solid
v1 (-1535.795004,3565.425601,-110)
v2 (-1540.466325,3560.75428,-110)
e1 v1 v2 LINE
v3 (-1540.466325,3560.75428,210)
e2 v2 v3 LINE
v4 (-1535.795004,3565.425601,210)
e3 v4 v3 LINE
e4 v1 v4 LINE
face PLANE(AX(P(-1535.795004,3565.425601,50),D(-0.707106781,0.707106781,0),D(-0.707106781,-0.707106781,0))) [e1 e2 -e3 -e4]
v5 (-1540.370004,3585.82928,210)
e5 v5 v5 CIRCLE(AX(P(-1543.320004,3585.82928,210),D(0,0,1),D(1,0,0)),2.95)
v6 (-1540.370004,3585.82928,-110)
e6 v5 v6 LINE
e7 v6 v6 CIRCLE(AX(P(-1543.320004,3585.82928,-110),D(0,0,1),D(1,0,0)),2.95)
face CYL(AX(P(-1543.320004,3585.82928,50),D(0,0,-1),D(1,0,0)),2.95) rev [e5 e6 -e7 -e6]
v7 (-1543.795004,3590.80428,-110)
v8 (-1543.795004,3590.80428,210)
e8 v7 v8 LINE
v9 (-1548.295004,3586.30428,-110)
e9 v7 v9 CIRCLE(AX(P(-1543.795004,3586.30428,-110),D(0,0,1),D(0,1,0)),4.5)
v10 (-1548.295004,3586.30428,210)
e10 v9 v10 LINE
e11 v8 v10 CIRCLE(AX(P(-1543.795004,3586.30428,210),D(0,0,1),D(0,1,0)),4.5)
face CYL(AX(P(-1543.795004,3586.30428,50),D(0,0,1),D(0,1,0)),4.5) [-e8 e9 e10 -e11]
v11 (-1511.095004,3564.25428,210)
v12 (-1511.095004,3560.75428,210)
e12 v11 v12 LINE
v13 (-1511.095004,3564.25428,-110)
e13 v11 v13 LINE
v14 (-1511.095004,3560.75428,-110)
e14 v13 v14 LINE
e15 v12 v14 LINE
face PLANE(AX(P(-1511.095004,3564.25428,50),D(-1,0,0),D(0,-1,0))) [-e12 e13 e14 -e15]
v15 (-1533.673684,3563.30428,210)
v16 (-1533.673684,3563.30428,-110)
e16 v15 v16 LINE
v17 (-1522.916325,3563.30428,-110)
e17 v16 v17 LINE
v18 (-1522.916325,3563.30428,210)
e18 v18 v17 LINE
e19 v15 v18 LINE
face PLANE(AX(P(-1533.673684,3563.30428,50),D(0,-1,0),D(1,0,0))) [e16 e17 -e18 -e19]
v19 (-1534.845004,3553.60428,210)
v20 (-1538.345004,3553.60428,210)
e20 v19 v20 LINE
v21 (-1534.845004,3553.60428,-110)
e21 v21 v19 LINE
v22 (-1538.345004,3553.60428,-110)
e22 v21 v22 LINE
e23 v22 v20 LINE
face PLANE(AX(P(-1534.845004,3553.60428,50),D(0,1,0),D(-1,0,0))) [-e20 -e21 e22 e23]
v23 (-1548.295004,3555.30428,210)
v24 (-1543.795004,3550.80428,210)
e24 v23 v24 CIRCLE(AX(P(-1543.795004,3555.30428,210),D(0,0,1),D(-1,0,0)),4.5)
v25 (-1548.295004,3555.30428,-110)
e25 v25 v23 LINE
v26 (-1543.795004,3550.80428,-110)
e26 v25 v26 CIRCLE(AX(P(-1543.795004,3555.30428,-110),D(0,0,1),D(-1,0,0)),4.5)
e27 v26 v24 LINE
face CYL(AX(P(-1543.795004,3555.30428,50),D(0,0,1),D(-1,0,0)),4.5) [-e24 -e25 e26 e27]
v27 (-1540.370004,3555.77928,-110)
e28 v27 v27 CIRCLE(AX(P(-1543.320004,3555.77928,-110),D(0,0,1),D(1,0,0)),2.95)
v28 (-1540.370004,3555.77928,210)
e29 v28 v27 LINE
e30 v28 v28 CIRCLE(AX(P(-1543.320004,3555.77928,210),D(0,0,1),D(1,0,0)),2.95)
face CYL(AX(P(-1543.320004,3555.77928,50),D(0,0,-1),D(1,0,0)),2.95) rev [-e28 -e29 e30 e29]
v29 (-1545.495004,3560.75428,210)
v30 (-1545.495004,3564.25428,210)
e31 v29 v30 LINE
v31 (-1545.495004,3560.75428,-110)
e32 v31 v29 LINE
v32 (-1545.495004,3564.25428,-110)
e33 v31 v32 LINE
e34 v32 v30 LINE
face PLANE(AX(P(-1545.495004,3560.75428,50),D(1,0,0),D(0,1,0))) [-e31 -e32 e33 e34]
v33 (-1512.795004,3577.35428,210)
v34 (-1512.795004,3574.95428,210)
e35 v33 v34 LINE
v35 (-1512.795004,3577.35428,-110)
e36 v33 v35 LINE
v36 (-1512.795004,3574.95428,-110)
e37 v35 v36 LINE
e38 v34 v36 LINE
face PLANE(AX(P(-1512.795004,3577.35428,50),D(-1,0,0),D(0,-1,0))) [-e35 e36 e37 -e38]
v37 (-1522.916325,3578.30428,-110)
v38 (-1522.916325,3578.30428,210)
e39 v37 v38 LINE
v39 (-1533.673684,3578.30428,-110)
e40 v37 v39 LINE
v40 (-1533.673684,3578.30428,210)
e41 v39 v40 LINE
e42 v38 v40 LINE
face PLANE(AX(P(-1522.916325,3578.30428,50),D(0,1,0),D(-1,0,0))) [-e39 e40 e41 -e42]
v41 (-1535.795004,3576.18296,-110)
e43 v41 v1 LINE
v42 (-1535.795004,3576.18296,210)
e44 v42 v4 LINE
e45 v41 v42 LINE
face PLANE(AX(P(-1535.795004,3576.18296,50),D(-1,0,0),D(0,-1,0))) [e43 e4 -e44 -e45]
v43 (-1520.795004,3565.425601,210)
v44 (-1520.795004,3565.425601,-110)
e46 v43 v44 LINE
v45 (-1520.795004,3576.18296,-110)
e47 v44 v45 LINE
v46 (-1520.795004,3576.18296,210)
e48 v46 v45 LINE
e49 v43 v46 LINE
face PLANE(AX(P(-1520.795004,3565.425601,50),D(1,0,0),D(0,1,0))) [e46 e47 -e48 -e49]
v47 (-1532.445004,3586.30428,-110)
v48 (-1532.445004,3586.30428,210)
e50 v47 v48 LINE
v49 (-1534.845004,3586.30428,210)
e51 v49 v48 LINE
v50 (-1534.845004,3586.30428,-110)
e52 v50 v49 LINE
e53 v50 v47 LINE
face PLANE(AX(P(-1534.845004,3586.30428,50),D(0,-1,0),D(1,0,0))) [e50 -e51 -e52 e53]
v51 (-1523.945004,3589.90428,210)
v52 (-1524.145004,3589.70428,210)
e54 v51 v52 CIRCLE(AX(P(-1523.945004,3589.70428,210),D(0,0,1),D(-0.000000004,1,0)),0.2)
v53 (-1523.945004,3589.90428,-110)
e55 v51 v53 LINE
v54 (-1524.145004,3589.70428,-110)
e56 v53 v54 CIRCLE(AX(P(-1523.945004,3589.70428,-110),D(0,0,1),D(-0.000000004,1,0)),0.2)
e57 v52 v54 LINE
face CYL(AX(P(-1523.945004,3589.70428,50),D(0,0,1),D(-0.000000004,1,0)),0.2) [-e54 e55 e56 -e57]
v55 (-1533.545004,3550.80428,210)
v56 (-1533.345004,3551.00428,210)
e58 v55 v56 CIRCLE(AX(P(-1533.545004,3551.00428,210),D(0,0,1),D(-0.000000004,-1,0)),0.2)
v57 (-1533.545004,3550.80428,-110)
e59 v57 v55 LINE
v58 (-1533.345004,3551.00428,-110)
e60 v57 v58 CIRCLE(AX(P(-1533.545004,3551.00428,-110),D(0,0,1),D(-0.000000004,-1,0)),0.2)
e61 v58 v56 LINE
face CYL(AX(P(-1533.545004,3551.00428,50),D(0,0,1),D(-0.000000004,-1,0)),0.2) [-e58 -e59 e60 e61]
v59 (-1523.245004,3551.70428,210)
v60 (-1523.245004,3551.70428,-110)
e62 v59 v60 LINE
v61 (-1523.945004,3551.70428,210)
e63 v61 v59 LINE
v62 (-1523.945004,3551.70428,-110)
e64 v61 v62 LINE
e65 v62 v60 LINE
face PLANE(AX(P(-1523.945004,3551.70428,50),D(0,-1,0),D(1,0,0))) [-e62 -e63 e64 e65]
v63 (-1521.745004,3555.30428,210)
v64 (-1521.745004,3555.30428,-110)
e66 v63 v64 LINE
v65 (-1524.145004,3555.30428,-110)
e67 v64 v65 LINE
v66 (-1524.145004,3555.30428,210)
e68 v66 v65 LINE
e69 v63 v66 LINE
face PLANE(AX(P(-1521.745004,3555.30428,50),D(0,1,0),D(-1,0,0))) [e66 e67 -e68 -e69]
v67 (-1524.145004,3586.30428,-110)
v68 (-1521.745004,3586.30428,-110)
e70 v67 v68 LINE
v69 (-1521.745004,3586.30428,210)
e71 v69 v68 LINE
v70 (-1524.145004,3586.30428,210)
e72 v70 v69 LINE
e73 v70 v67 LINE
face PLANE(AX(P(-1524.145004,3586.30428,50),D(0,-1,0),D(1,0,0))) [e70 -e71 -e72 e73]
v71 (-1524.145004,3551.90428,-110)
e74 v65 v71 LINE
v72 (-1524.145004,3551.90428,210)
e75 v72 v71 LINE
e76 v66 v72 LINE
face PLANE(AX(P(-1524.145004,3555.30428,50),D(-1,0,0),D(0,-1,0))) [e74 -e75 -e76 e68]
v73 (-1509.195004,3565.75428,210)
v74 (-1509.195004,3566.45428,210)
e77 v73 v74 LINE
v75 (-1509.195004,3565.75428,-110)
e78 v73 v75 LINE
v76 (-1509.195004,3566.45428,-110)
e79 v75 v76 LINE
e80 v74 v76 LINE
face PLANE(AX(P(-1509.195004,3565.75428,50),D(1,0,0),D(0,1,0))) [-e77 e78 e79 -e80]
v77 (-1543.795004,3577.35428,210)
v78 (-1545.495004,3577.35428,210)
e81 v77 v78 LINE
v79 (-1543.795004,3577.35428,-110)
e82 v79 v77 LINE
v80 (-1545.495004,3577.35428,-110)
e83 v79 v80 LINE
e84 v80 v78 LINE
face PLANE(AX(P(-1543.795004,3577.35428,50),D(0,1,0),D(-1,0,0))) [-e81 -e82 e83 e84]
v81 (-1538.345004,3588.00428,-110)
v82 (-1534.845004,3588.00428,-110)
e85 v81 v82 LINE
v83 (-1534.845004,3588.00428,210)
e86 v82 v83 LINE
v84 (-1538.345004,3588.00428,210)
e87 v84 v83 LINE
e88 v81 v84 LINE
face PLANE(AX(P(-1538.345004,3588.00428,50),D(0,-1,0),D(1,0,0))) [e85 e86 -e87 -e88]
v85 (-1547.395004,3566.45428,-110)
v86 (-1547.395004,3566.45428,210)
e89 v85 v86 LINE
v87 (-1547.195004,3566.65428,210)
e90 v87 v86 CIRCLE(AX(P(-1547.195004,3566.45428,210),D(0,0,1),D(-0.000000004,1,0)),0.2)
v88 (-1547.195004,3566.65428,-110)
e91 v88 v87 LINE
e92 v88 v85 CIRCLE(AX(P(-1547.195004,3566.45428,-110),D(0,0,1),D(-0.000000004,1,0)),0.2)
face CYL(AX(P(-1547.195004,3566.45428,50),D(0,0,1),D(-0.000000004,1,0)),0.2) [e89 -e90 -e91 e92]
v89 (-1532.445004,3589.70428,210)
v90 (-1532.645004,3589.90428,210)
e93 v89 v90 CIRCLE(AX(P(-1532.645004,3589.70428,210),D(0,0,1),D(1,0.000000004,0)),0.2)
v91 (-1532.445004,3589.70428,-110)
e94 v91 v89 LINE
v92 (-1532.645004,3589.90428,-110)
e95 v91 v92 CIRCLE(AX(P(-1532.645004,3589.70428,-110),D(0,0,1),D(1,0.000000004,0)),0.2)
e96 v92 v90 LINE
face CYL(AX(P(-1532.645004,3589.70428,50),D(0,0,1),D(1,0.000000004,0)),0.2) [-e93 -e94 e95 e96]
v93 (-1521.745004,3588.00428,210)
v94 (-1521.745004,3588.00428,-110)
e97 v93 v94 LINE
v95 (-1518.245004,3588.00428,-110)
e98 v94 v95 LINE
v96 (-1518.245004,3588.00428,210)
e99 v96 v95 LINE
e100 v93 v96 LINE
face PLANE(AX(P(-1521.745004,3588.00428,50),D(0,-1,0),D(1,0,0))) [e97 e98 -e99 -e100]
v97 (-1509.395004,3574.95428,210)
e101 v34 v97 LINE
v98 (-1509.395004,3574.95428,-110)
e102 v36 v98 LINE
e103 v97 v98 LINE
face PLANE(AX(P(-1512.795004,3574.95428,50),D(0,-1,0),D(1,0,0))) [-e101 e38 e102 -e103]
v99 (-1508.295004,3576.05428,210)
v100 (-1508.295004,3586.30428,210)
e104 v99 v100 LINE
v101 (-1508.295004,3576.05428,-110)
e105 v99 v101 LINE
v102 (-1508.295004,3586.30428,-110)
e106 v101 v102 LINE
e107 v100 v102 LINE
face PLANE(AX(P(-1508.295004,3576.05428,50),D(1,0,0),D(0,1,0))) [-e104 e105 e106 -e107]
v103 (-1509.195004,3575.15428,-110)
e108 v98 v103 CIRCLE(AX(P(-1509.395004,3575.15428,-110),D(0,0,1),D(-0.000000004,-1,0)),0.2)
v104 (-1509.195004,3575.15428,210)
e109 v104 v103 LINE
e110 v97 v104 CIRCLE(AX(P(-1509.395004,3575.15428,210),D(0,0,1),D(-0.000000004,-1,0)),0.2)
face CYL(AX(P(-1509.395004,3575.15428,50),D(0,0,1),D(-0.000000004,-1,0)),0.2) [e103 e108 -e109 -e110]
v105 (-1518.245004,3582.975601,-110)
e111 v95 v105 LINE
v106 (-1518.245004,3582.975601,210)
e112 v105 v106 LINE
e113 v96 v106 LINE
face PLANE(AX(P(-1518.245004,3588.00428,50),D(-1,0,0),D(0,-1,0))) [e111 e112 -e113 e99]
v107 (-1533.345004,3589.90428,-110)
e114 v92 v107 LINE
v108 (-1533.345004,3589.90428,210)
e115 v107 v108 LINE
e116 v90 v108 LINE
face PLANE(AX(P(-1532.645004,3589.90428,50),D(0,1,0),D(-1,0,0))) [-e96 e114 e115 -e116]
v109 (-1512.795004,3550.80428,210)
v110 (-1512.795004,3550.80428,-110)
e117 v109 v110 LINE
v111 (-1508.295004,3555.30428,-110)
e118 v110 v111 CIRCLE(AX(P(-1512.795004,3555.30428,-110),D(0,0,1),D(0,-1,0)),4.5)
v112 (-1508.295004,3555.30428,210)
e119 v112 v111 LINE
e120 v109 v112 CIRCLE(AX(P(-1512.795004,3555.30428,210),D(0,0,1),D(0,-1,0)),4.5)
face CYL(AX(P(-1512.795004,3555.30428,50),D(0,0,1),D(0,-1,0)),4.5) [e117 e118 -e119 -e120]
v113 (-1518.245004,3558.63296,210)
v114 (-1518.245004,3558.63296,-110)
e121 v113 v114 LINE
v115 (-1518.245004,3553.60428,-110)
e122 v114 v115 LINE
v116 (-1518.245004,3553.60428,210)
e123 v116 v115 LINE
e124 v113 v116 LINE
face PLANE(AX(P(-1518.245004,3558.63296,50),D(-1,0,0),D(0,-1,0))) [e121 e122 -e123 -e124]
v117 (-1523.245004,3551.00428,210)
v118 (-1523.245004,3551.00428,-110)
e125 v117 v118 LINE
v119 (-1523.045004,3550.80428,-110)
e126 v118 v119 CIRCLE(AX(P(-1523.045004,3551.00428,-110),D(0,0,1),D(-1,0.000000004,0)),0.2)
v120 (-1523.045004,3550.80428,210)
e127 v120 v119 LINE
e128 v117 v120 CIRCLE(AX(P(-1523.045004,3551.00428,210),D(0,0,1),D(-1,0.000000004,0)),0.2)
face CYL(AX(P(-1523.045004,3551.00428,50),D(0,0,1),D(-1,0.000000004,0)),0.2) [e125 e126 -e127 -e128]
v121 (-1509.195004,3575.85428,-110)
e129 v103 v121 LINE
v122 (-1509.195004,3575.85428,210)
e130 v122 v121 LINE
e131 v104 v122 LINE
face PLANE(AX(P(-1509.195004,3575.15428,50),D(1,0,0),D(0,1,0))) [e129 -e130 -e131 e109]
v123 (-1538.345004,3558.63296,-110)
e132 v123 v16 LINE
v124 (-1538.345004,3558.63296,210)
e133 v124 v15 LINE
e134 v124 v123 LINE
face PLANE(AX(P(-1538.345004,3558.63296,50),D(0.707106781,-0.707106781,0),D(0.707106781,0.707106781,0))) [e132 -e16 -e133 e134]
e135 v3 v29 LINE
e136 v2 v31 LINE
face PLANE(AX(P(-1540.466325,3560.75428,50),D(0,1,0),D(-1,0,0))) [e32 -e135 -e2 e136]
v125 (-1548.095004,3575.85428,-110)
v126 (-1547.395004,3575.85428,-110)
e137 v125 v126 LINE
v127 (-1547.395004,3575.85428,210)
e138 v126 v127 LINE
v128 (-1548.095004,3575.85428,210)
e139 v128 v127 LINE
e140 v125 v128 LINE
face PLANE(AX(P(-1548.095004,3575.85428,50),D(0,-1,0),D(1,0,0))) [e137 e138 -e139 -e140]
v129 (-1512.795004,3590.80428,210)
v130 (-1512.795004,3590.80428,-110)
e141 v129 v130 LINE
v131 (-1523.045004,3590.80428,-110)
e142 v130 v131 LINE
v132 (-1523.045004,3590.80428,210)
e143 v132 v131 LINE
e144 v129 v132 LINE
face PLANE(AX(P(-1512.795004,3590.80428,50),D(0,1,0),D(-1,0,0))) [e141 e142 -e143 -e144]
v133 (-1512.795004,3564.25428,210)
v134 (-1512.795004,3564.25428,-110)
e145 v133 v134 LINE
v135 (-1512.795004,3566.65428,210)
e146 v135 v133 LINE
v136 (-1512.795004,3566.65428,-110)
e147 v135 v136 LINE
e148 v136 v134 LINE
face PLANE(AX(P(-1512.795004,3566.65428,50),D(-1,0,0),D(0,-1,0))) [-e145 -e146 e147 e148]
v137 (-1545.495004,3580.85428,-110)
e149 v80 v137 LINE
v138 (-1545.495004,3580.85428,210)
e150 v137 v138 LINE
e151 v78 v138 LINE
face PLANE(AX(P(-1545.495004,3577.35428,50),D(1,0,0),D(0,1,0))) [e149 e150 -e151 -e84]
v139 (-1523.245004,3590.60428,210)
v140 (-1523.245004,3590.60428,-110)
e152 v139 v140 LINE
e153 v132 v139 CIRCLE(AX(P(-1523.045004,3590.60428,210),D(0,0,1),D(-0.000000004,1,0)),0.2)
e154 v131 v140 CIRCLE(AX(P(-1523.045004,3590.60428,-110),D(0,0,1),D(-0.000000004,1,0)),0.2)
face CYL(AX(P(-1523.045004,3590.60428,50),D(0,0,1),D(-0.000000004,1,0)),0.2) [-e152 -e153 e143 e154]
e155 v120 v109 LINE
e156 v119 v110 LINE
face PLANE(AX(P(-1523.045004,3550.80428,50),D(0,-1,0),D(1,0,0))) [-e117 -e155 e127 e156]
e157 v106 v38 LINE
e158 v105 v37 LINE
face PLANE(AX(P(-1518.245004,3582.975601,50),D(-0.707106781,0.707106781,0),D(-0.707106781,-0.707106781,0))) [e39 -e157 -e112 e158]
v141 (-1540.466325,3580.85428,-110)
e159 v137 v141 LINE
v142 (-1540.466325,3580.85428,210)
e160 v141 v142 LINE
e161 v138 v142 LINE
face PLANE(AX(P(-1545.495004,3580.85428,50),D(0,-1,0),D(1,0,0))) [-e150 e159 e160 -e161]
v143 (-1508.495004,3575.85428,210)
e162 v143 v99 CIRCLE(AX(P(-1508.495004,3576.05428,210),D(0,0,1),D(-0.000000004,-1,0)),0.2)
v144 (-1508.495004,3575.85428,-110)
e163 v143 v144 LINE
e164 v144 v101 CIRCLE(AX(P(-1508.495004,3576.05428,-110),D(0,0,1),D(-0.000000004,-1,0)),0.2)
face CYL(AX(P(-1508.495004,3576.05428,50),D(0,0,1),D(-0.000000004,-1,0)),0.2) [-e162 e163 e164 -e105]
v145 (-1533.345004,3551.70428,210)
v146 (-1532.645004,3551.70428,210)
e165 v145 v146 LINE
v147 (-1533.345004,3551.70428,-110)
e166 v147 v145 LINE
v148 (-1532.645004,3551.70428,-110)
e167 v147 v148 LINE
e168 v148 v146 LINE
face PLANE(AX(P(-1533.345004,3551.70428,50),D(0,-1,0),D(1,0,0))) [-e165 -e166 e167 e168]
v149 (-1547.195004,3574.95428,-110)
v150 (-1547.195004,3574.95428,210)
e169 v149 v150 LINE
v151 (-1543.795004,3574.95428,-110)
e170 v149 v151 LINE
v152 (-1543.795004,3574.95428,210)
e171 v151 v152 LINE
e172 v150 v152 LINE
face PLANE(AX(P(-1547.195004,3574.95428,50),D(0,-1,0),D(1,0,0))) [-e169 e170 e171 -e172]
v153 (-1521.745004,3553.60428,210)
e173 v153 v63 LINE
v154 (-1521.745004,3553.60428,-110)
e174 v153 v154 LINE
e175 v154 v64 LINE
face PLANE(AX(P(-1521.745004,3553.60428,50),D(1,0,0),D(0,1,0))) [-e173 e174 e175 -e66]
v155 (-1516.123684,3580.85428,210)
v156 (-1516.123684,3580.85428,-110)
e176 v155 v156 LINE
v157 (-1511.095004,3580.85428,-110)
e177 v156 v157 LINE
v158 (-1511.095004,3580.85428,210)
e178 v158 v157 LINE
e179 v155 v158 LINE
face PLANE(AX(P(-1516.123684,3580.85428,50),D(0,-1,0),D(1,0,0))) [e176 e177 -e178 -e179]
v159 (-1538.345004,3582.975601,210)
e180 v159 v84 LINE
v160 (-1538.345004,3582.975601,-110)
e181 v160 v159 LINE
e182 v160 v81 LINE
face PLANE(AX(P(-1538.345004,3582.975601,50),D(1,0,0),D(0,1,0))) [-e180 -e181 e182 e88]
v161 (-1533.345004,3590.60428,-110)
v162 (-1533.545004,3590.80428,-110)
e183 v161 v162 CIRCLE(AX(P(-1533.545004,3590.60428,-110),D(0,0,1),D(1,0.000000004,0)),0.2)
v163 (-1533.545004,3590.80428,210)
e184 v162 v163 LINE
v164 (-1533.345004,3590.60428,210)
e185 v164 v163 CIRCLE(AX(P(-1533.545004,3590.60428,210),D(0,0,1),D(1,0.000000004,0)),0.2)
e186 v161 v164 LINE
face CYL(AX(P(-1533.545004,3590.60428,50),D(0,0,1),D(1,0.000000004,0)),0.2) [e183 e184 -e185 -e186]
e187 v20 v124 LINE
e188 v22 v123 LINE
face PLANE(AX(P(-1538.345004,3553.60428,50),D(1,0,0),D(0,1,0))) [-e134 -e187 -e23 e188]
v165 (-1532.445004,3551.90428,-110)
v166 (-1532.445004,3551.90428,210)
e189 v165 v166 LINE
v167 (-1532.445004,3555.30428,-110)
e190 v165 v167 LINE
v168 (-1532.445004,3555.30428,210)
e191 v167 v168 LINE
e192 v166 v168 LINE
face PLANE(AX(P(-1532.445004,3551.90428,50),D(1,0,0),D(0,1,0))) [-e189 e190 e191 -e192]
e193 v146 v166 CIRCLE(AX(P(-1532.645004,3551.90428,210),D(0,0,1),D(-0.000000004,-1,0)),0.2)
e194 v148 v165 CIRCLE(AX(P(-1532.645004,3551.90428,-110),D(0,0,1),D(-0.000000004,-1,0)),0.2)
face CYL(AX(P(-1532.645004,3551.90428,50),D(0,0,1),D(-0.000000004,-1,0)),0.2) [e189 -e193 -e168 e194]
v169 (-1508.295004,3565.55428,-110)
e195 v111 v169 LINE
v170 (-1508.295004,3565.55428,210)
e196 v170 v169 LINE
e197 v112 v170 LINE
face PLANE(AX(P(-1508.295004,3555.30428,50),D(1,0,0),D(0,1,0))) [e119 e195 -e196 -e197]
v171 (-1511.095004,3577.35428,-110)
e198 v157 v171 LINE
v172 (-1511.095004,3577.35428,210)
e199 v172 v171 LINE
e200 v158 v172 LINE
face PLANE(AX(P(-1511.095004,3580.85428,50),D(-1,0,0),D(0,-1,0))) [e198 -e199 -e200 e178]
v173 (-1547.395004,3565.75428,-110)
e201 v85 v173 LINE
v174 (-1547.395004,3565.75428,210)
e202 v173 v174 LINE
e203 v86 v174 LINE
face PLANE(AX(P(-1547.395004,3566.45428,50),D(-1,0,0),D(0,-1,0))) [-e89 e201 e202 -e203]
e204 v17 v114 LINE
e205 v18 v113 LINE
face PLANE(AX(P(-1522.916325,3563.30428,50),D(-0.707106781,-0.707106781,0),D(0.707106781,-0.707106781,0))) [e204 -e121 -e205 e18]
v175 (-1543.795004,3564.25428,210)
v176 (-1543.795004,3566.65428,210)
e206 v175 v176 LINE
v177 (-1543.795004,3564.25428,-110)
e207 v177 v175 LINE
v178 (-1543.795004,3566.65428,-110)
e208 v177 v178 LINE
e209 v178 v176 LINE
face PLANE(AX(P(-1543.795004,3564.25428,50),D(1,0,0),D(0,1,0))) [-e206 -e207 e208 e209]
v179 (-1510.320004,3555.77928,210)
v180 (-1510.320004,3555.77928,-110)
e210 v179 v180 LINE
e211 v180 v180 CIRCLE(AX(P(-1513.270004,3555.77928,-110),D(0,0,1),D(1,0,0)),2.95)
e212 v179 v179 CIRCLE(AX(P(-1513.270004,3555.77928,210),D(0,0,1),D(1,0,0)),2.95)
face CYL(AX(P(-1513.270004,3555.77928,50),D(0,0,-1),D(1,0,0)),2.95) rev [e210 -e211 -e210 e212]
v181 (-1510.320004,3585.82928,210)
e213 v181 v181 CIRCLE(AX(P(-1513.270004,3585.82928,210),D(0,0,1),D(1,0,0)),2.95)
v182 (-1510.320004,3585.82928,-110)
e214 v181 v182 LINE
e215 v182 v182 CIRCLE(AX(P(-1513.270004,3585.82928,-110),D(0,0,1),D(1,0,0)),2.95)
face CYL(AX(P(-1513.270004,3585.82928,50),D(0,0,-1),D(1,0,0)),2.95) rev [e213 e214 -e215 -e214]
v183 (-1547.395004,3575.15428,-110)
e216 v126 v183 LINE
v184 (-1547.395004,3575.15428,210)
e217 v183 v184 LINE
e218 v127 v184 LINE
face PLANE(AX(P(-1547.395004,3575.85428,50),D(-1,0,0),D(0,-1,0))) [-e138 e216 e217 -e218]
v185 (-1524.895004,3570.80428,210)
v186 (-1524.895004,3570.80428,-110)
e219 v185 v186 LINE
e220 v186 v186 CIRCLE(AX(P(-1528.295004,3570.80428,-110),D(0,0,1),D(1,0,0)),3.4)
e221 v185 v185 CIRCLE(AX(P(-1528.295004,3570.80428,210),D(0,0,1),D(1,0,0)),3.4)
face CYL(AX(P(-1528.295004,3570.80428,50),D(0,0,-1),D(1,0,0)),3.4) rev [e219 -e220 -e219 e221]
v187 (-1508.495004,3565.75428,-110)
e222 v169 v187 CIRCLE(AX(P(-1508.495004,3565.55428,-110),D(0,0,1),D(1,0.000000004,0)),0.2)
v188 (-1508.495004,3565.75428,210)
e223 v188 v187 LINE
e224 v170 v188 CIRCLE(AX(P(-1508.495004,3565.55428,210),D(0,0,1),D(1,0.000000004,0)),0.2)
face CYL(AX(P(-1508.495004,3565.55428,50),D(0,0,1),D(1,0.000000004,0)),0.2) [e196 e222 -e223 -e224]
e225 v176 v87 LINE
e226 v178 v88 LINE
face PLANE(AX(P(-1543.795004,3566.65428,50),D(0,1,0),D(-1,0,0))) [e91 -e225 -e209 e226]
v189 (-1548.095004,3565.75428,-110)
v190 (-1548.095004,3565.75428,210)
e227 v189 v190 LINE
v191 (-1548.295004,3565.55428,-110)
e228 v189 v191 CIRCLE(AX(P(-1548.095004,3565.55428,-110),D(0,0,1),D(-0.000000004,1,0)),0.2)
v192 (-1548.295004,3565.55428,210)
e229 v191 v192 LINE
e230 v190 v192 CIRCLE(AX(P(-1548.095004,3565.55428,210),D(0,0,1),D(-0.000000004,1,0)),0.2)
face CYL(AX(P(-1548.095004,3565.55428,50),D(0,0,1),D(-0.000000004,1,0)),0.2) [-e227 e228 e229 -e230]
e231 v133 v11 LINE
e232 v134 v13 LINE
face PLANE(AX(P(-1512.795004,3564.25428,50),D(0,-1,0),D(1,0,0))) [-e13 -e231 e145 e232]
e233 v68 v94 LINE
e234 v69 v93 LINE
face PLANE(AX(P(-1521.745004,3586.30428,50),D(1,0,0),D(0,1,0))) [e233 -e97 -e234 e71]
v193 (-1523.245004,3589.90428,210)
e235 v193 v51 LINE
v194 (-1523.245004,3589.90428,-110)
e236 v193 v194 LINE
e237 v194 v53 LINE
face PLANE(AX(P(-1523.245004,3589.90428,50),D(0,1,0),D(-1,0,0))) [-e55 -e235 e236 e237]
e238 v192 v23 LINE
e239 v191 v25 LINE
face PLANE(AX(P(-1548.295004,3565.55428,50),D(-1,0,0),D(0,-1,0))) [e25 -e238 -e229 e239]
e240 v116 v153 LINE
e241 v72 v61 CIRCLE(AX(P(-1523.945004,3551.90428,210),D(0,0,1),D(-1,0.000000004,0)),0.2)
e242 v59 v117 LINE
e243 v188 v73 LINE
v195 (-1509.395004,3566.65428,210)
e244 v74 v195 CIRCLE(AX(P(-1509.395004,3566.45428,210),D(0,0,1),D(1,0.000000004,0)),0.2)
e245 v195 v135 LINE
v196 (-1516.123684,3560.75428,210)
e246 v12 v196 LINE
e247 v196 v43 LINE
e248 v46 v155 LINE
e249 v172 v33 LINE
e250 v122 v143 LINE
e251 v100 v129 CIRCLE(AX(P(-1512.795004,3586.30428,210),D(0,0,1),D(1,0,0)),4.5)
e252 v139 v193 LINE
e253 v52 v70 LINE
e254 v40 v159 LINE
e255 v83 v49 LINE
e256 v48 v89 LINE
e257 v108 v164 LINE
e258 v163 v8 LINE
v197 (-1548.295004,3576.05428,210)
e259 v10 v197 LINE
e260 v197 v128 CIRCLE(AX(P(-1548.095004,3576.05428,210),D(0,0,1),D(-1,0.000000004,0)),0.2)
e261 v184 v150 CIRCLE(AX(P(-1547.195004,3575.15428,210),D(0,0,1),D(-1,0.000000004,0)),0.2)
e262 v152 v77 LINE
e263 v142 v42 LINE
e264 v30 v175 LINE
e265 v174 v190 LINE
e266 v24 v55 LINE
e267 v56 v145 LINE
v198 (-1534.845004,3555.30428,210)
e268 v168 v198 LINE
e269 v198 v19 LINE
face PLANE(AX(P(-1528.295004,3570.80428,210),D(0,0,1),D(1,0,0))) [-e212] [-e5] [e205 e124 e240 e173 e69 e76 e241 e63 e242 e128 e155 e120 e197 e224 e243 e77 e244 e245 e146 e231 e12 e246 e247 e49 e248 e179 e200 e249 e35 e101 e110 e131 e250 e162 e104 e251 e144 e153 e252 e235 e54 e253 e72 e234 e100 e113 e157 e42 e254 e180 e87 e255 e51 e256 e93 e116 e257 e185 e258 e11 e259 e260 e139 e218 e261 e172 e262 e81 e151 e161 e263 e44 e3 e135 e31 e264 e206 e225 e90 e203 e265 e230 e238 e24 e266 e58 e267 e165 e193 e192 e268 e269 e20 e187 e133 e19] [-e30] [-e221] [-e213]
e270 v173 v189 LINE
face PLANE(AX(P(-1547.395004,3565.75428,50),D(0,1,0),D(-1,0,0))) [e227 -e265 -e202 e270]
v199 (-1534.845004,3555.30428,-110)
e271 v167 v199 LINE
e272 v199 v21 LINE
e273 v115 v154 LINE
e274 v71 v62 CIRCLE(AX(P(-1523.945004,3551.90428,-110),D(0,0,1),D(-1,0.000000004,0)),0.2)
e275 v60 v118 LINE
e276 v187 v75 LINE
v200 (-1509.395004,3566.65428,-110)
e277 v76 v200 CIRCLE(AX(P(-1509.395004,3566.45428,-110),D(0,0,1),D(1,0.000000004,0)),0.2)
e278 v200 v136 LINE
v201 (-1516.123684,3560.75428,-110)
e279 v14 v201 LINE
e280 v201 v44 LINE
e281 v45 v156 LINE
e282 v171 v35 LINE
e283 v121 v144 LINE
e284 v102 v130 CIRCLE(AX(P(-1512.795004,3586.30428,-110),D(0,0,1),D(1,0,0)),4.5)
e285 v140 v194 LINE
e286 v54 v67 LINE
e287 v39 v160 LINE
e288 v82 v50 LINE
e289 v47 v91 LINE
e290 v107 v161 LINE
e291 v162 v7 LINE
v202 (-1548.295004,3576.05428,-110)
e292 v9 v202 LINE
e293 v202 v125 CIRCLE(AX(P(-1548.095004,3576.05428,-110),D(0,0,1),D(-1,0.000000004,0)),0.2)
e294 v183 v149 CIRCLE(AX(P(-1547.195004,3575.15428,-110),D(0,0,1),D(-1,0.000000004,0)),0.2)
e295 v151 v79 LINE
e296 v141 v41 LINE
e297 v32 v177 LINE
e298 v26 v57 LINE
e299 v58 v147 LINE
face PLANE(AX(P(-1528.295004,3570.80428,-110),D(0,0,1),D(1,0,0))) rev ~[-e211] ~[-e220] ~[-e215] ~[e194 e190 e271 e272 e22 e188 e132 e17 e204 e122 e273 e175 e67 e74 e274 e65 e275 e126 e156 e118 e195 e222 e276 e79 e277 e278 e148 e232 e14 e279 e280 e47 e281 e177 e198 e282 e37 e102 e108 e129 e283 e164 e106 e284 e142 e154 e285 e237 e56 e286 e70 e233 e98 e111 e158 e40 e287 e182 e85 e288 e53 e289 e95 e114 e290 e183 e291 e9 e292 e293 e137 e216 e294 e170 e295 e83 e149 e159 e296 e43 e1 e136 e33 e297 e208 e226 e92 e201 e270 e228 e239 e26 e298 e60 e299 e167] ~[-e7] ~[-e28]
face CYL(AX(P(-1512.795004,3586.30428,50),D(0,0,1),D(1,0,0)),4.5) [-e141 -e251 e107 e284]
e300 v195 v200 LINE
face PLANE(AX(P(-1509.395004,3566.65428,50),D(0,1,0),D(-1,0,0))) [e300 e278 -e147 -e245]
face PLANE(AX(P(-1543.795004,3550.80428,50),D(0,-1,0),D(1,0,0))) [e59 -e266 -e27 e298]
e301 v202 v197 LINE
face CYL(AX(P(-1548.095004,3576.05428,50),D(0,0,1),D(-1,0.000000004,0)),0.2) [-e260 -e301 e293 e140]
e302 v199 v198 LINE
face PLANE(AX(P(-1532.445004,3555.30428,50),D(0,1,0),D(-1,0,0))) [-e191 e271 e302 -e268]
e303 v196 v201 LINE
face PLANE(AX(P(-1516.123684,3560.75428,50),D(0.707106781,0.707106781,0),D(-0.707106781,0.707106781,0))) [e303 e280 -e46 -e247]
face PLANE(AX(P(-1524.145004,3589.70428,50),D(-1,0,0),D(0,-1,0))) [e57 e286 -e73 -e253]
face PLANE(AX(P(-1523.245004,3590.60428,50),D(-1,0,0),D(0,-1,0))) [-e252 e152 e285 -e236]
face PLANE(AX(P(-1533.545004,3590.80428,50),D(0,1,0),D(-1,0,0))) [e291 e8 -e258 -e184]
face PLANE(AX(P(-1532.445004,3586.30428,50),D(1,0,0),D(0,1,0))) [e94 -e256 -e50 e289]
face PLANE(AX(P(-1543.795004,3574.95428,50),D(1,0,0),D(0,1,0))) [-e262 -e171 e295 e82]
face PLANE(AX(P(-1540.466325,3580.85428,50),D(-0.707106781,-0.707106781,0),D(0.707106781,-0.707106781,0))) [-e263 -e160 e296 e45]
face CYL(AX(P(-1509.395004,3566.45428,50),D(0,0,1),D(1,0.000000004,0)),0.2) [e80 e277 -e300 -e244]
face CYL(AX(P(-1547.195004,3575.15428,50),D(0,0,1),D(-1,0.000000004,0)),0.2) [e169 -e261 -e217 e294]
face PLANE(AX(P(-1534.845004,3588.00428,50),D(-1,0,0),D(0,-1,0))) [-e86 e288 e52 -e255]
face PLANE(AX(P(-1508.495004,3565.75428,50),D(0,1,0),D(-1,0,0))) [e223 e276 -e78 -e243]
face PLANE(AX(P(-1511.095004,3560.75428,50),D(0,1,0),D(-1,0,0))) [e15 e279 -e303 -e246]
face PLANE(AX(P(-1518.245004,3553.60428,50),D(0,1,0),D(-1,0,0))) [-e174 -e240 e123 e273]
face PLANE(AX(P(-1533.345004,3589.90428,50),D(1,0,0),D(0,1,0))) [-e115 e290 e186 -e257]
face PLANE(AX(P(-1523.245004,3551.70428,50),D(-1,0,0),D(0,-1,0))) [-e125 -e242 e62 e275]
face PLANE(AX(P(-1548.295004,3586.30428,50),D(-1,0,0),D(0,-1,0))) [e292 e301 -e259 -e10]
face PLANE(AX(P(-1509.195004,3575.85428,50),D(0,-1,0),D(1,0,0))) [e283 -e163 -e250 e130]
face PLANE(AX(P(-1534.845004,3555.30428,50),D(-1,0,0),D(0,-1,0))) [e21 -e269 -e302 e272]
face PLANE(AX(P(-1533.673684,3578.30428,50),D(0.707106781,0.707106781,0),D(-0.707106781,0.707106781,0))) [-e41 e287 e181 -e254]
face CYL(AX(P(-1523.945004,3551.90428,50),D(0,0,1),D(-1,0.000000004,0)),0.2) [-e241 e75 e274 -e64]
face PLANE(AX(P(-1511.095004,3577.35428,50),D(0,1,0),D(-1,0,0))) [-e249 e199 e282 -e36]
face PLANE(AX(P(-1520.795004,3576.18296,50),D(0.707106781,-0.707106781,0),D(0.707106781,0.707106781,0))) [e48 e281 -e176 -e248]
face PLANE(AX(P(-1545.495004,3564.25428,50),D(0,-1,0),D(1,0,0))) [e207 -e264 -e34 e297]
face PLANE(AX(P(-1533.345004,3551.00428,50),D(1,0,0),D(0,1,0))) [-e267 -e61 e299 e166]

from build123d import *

# Parameters (mm, degrees)
SKETCH_1_R      = 2.95
SKETCH_1_R_2    = 3.4
EXTRUDE_1_DEPTH = 160


with BuildPart() as part:
    # 草图1 → 凸台-拉伸1 (new body, symmetric)
    with BuildSketch(Plane.XY.offset(50)):
        with BuildLine():
            Line((-1518.245004392, 3588.004280474), (-1518.245004392, 3582.975600817))
            Line((-1518.245004392, 3582.975600817), (-1522.916324736, 3578.304280474))
            Line((-1522.916324736, 3578.304280474), (-1533.673684048, 3578.304280474))
            Line((-1533.673684048, 3578.304280474), (-1538.345004392, 3582.975600817))
            Line((-1538.345004392, 3582.975600817), (-1538.345004392, 3588.004280474))
            Line((-1538.345004392, 3588.004280474), (-1534.845004392, 3588.004280474))
            Line((-1534.845004392, 3588.004280474), (-1534.845004392, 3586.304280474))
            Line((-1534.845004392, 3586.304280474), (-1532.445004392, 3586.304280474))
            Line((-1532.445004392, 3586.304280474), (-1532.445004392, 3589.704280474))
            ThreePointArc((-1532.445004392, 3589.704280474), (-1532.503583036, 3589.84570183), (-1532.645004392, 3589.904280474))
            Line((-1532.645004392, 3589.904280474), (-1533.345004392, 3589.904280474))
            Line((-1533.345004392, 3589.904280474), (-1533.345004392, 3590.604280474))
            ThreePointArc((-1533.345004392, 3590.604280474), (-1533.403583036, 3590.74570183), (-1533.545004392, 3590.804280474))
            Line((-1533.545004392, 3590.804280474), (-1543.795004392, 3590.804280474))
            ThreePointArc((-1543.795004392, 3590.804280474), (-1546.976984907, 3589.486260989), (-1548.295004392, 3586.304280474))
            Line((-1548.295004392, 3586.304280474), (-1548.295004392, 3576.054280474))
            ThreePointArc((-1548.295004392, 3576.054280474), (-1548.236425748, 3575.912859117), (-1548.095004392, 3575.854280474))
            Line((-1548.095004392, 3575.854280474), (-1547.395004392, 3575.854280474))
            Line((-1547.395004392, 3575.854280474), (-1547.395004392, 3575.154280474))
            ThreePointArc((-1547.395004392, 3575.154280474), (-1547.336425748, 3575.012859117), (-1547.195004392, 3574.954280474))
            Line((-1547.195004392, 3574.954280474), (-1543.795004392, 3574.954280474))
            Line((-1543.795004392, 3574.954280474), (-1543.795004392, 3577.354280474))
            Line((-1543.795004392, 3577.354280474), (-1545.495004392, 3577.354280474))
            Line((-1545.495004392, 3577.354280474), (-1545.495004392, 3580.854280474))
            Line((-1545.495004392, 3580.854280474), (-1540.466324736, 3580.854280474))
            Line((-1540.466324736, 3580.854280474), (-1535.795004392, 3576.18296013))
            Line((-1535.795004392, 3576.18296013), (-1535.795004392, 3565.425600817))
            Line((-1535.795004392, 3565.425600817), (-1540.466324736, 3560.754280474))
            Line((-1540.466324736, 3560.754280474), (-1545.495004392, 3560.754280474))
            Line((-1545.495004392, 3560.754280474), (-1545.495004392, 3564.254280474))
            Line((-1545.495004392, 3564.254280474), (-1543.795004392, 3564.254280474))
            Line((-1543.795004392, 3564.254280474), (-1543.795004392, 3566.654280474))
            Line((-1543.795004392, 3566.654280474), (-1547.195004392, 3566.654280474))
            ThreePointArc((-1547.195004392, 3566.654280474), (-1547.336425748, 3566.59570183), (-1547.395004392, 3566.454280474))
            Line((-1547.395004392, 3566.454280474), (-1547.395004392, 3565.754280474))
            Line((-1547.395004392, 3565.754280474), (-1548.095004392, 3565.754280474))
            ThreePointArc((-1548.095004392, 3565.754280474), (-1548.236425748, 3565.69570183), (-1548.295004392, 3565.554280474))
            Line((-1548.295004392, 3565.554280474), (-1548.295004392, 3555.304280474))
            ThreePointArc((-1548.295004392, 3555.304280474), (-1546.976984907, 3552.122299958), (-1543.795004392, 3550.804280474))
            Line((-1543.795004392, 3550.804280474), (-1533.545004392, 3550.804280474))
            ThreePointArc((-1533.545004392, 3550.804280474), (-1533.403583036, 3550.862859117), (-1533.345004392, 3551.004280474))
            Line((-1533.345004392, 3551.004280474), (-1533.345004392, 3551.704280474))
            Line((-1533.345004392, 3551.704280474), (-1532.645004392, 3551.704280474))
            ThreePointArc((-1532.645004392, 3551.704280474), (-1532.503583036, 3551.762859117), (-1532.445004392, 3551.904280474))
            Line((-1532.445004392, 3551.904280474), (-1532.445004392, 3555.304280474))
            Line((-1532.445004392, 3555.304280474), (-1534.845004392, 3555.304280474))
            Line((-1534.845004392, 3555.304280474), (-1534.845004392, 3553.604280474))
            Line((-1534.845004392, 3553.604280474), (-1538.345004392, 3553.604280474))
            Line((-1538.345004392, 3553.604280474), (-1538.345004392, 3558.63296013))
            Line((-1538.345004392, 3558.63296013), (-1533.673684048, 3563.304280474))
            Line((-1533.673684048, 3563.304280474), (-1522.916324736, 3563.304280474))
            Line((-1522.916324736, 3563.304280474), (-1518.245004392, 3558.63296013))
            Line((-1518.245004392, 3558.63296013), (-1518.245004392, 3553.604280474))
            Line((-1518.245004392, 3553.604280474), (-1521.745004392, 3553.604280474))
            Line((-1521.745004392, 3553.604280474), (-1521.745004392, 3555.304280474))
            Line((-1521.745004392, 3555.304280474), (-1524.145004392, 3555.304280474))
            Line((-1524.145004392, 3555.304280474), (-1524.145004392, 3551.904280474))
            ThreePointArc((-1524.145004392, 3551.904280474), (-1524.086425748, 3551.762859117), (-1523.945004392, 3551.704280474))
            Line((-1523.945004392, 3551.704280474), (-1523.245004392, 3551.704280474))
            Line((-1523.245004392, 3551.704280474), (-1523.245004392, 3551.004280474))
            ThreePointArc((-1523.245004392, 3551.004280474), (-1523.186425748, 3550.862859117), (-1523.045004392, 3550.804280474))
            Line((-1523.045004392, 3550.804280474), (-1512.795004392, 3550.804280474))
            ThreePointArc((-1512.795004392, 3550.804280474), (-1509.613023877, 3552.122299958), (-1508.295004392, 3555.304280474))
            Line((-1508.295004392, 3555.304280474), (-1508.295004392, 3565.554280474))
            ThreePointArc((-1508.295004392, 3565.554280474), (-1508.353583036, 3565.69570183), (-1508.495004392, 3565.754280474))
            Line((-1508.495004392, 3565.754280474), (-1509.195004392, 3565.754280474))
            Line((-1509.195004392, 3565.754280474), (-1509.195004392, 3566.454280474))
            ThreePointArc((-1509.195004392, 3566.454280474), (-1509.253583036, 3566.59570183), (-1509.395004392, 3566.654280474))
            Line((-1509.395004392, 3566.654280474), (-1512.795004392, 3566.654280474))
            Line((-1512.795004392, 3566.654280474), (-1512.795004392, 3564.254280474))
            Line((-1512.795004392, 3564.254280474), (-1511.095004392, 3564.254280474))
            Line((-1511.095004392, 3564.254280474), (-1511.095004392, 3560.754280474))
            Line((-1511.095004392, 3560.754280474), (-1516.123684048, 3560.754280474))
            Line((-1516.123684048, 3560.754280474), (-1520.795004392, 3565.425600817))
            Line((-1520.795004392, 3565.425600817), (-1520.795004392, 3576.18296013))
            Line((-1520.795004392, 3576.18296013), (-1516.123684048, 3580.854280474))
            Line((-1516.123684048, 3580.854280474), (-1511.095004392, 3580.854280474))
            Line((-1511.095004392, 3580.854280474), (-1511.095004392, 3577.354280474))
            Line((-1511.095004392, 3577.354280474), (-1512.795004392, 3577.354280474))
            Line((-1512.795004392, 3577.354280474), (-1512.795004392, 3574.954280474))
            Line((-1512.795004392, 3574.954280474), (-1509.395004392, 3574.954280474))
            ThreePointArc((-1509.395004392, 3574.954280474), (-1509.253583036, 3575.012859117), (-1509.195004392, 3575.154280474))
            Line((-1509.195004392, 3575.154280474), (-1509.195004392, 3575.854280474))
            Line((-1509.195004392, 3575.854280474), (-1508.495004392, 3575.854280474))
            ThreePointArc((-1508.495004392, 3575.854280474), (-1508.353583036, 3575.912859117), (-1508.295004392, 3576.054280474))
            Line((-1508.295004392, 3576.054280474), (-1508.295004392, 3586.304280474))
            ThreePointArc((-1508.295004392, 3586.304280474), (-1509.613023877, 3589.486260989), (-1512.795004392, 3590.804280474))
            Line((-1512.795004392, 3590.804280474), (-1523.045004392, 3590.804280474))
            ThreePointArc((-1523.045004392, 3590.804280474), (-1523.186425748, 3590.74570183), (-1523.245004392, 3590.604280474))
            Line((-1523.245004392, 3590.604280474), (-1523.245004392, 3589.904280474))
            Line((-1523.245004392, 3589.904280474), (-1523.945004392, 3589.904280474))
            ThreePointArc((-1523.945004392, 3589.904280474), (-1524.086425748, 3589.84570183), (-1524.145004392, 3589.704280474))
            Line((-1524.145004392, 3589.704280474), (-1524.145004392, 3586.304280474))
            Line((-1524.145004392, 3586.304280474), (-1521.745004392, 3586.304280474))
            Line((-1521.745004392, 3586.304280474), (-1521.745004392, 3588.004280474))
            Line((-1521.745004392, 3588.004280474), (-1518.245004392, 3588.004280474))
        make_face()
        with Locations((-1513.270004392, 3555.779280474)):
            Circle(SKETCH_1_R, mode=Mode.SUBTRACT)
        with Locations((-1528.295004392, 3570.804280474)):
            Circle(SKETCH_1_R_2, mode=Mode.SUBTRACT)
        with Locations((-1513.270004392, 3585.829280474)):
            Circle(SKETCH_1_R, mode=Mode.SUBTRACT)
        with Locations((-1543.320004392, 3585.829280474)):
            Circle(SKETCH_1_R, mode=Mode.SUBTRACT)
        with Locations((-1543.320004392, 3555.779280474)):
            Circle(SKETCH_1_R, mode=Mode.SUBTRACT)
    extrude(amount=EXTRUDE_1_DEPTH, both=True)


solid = part.part
